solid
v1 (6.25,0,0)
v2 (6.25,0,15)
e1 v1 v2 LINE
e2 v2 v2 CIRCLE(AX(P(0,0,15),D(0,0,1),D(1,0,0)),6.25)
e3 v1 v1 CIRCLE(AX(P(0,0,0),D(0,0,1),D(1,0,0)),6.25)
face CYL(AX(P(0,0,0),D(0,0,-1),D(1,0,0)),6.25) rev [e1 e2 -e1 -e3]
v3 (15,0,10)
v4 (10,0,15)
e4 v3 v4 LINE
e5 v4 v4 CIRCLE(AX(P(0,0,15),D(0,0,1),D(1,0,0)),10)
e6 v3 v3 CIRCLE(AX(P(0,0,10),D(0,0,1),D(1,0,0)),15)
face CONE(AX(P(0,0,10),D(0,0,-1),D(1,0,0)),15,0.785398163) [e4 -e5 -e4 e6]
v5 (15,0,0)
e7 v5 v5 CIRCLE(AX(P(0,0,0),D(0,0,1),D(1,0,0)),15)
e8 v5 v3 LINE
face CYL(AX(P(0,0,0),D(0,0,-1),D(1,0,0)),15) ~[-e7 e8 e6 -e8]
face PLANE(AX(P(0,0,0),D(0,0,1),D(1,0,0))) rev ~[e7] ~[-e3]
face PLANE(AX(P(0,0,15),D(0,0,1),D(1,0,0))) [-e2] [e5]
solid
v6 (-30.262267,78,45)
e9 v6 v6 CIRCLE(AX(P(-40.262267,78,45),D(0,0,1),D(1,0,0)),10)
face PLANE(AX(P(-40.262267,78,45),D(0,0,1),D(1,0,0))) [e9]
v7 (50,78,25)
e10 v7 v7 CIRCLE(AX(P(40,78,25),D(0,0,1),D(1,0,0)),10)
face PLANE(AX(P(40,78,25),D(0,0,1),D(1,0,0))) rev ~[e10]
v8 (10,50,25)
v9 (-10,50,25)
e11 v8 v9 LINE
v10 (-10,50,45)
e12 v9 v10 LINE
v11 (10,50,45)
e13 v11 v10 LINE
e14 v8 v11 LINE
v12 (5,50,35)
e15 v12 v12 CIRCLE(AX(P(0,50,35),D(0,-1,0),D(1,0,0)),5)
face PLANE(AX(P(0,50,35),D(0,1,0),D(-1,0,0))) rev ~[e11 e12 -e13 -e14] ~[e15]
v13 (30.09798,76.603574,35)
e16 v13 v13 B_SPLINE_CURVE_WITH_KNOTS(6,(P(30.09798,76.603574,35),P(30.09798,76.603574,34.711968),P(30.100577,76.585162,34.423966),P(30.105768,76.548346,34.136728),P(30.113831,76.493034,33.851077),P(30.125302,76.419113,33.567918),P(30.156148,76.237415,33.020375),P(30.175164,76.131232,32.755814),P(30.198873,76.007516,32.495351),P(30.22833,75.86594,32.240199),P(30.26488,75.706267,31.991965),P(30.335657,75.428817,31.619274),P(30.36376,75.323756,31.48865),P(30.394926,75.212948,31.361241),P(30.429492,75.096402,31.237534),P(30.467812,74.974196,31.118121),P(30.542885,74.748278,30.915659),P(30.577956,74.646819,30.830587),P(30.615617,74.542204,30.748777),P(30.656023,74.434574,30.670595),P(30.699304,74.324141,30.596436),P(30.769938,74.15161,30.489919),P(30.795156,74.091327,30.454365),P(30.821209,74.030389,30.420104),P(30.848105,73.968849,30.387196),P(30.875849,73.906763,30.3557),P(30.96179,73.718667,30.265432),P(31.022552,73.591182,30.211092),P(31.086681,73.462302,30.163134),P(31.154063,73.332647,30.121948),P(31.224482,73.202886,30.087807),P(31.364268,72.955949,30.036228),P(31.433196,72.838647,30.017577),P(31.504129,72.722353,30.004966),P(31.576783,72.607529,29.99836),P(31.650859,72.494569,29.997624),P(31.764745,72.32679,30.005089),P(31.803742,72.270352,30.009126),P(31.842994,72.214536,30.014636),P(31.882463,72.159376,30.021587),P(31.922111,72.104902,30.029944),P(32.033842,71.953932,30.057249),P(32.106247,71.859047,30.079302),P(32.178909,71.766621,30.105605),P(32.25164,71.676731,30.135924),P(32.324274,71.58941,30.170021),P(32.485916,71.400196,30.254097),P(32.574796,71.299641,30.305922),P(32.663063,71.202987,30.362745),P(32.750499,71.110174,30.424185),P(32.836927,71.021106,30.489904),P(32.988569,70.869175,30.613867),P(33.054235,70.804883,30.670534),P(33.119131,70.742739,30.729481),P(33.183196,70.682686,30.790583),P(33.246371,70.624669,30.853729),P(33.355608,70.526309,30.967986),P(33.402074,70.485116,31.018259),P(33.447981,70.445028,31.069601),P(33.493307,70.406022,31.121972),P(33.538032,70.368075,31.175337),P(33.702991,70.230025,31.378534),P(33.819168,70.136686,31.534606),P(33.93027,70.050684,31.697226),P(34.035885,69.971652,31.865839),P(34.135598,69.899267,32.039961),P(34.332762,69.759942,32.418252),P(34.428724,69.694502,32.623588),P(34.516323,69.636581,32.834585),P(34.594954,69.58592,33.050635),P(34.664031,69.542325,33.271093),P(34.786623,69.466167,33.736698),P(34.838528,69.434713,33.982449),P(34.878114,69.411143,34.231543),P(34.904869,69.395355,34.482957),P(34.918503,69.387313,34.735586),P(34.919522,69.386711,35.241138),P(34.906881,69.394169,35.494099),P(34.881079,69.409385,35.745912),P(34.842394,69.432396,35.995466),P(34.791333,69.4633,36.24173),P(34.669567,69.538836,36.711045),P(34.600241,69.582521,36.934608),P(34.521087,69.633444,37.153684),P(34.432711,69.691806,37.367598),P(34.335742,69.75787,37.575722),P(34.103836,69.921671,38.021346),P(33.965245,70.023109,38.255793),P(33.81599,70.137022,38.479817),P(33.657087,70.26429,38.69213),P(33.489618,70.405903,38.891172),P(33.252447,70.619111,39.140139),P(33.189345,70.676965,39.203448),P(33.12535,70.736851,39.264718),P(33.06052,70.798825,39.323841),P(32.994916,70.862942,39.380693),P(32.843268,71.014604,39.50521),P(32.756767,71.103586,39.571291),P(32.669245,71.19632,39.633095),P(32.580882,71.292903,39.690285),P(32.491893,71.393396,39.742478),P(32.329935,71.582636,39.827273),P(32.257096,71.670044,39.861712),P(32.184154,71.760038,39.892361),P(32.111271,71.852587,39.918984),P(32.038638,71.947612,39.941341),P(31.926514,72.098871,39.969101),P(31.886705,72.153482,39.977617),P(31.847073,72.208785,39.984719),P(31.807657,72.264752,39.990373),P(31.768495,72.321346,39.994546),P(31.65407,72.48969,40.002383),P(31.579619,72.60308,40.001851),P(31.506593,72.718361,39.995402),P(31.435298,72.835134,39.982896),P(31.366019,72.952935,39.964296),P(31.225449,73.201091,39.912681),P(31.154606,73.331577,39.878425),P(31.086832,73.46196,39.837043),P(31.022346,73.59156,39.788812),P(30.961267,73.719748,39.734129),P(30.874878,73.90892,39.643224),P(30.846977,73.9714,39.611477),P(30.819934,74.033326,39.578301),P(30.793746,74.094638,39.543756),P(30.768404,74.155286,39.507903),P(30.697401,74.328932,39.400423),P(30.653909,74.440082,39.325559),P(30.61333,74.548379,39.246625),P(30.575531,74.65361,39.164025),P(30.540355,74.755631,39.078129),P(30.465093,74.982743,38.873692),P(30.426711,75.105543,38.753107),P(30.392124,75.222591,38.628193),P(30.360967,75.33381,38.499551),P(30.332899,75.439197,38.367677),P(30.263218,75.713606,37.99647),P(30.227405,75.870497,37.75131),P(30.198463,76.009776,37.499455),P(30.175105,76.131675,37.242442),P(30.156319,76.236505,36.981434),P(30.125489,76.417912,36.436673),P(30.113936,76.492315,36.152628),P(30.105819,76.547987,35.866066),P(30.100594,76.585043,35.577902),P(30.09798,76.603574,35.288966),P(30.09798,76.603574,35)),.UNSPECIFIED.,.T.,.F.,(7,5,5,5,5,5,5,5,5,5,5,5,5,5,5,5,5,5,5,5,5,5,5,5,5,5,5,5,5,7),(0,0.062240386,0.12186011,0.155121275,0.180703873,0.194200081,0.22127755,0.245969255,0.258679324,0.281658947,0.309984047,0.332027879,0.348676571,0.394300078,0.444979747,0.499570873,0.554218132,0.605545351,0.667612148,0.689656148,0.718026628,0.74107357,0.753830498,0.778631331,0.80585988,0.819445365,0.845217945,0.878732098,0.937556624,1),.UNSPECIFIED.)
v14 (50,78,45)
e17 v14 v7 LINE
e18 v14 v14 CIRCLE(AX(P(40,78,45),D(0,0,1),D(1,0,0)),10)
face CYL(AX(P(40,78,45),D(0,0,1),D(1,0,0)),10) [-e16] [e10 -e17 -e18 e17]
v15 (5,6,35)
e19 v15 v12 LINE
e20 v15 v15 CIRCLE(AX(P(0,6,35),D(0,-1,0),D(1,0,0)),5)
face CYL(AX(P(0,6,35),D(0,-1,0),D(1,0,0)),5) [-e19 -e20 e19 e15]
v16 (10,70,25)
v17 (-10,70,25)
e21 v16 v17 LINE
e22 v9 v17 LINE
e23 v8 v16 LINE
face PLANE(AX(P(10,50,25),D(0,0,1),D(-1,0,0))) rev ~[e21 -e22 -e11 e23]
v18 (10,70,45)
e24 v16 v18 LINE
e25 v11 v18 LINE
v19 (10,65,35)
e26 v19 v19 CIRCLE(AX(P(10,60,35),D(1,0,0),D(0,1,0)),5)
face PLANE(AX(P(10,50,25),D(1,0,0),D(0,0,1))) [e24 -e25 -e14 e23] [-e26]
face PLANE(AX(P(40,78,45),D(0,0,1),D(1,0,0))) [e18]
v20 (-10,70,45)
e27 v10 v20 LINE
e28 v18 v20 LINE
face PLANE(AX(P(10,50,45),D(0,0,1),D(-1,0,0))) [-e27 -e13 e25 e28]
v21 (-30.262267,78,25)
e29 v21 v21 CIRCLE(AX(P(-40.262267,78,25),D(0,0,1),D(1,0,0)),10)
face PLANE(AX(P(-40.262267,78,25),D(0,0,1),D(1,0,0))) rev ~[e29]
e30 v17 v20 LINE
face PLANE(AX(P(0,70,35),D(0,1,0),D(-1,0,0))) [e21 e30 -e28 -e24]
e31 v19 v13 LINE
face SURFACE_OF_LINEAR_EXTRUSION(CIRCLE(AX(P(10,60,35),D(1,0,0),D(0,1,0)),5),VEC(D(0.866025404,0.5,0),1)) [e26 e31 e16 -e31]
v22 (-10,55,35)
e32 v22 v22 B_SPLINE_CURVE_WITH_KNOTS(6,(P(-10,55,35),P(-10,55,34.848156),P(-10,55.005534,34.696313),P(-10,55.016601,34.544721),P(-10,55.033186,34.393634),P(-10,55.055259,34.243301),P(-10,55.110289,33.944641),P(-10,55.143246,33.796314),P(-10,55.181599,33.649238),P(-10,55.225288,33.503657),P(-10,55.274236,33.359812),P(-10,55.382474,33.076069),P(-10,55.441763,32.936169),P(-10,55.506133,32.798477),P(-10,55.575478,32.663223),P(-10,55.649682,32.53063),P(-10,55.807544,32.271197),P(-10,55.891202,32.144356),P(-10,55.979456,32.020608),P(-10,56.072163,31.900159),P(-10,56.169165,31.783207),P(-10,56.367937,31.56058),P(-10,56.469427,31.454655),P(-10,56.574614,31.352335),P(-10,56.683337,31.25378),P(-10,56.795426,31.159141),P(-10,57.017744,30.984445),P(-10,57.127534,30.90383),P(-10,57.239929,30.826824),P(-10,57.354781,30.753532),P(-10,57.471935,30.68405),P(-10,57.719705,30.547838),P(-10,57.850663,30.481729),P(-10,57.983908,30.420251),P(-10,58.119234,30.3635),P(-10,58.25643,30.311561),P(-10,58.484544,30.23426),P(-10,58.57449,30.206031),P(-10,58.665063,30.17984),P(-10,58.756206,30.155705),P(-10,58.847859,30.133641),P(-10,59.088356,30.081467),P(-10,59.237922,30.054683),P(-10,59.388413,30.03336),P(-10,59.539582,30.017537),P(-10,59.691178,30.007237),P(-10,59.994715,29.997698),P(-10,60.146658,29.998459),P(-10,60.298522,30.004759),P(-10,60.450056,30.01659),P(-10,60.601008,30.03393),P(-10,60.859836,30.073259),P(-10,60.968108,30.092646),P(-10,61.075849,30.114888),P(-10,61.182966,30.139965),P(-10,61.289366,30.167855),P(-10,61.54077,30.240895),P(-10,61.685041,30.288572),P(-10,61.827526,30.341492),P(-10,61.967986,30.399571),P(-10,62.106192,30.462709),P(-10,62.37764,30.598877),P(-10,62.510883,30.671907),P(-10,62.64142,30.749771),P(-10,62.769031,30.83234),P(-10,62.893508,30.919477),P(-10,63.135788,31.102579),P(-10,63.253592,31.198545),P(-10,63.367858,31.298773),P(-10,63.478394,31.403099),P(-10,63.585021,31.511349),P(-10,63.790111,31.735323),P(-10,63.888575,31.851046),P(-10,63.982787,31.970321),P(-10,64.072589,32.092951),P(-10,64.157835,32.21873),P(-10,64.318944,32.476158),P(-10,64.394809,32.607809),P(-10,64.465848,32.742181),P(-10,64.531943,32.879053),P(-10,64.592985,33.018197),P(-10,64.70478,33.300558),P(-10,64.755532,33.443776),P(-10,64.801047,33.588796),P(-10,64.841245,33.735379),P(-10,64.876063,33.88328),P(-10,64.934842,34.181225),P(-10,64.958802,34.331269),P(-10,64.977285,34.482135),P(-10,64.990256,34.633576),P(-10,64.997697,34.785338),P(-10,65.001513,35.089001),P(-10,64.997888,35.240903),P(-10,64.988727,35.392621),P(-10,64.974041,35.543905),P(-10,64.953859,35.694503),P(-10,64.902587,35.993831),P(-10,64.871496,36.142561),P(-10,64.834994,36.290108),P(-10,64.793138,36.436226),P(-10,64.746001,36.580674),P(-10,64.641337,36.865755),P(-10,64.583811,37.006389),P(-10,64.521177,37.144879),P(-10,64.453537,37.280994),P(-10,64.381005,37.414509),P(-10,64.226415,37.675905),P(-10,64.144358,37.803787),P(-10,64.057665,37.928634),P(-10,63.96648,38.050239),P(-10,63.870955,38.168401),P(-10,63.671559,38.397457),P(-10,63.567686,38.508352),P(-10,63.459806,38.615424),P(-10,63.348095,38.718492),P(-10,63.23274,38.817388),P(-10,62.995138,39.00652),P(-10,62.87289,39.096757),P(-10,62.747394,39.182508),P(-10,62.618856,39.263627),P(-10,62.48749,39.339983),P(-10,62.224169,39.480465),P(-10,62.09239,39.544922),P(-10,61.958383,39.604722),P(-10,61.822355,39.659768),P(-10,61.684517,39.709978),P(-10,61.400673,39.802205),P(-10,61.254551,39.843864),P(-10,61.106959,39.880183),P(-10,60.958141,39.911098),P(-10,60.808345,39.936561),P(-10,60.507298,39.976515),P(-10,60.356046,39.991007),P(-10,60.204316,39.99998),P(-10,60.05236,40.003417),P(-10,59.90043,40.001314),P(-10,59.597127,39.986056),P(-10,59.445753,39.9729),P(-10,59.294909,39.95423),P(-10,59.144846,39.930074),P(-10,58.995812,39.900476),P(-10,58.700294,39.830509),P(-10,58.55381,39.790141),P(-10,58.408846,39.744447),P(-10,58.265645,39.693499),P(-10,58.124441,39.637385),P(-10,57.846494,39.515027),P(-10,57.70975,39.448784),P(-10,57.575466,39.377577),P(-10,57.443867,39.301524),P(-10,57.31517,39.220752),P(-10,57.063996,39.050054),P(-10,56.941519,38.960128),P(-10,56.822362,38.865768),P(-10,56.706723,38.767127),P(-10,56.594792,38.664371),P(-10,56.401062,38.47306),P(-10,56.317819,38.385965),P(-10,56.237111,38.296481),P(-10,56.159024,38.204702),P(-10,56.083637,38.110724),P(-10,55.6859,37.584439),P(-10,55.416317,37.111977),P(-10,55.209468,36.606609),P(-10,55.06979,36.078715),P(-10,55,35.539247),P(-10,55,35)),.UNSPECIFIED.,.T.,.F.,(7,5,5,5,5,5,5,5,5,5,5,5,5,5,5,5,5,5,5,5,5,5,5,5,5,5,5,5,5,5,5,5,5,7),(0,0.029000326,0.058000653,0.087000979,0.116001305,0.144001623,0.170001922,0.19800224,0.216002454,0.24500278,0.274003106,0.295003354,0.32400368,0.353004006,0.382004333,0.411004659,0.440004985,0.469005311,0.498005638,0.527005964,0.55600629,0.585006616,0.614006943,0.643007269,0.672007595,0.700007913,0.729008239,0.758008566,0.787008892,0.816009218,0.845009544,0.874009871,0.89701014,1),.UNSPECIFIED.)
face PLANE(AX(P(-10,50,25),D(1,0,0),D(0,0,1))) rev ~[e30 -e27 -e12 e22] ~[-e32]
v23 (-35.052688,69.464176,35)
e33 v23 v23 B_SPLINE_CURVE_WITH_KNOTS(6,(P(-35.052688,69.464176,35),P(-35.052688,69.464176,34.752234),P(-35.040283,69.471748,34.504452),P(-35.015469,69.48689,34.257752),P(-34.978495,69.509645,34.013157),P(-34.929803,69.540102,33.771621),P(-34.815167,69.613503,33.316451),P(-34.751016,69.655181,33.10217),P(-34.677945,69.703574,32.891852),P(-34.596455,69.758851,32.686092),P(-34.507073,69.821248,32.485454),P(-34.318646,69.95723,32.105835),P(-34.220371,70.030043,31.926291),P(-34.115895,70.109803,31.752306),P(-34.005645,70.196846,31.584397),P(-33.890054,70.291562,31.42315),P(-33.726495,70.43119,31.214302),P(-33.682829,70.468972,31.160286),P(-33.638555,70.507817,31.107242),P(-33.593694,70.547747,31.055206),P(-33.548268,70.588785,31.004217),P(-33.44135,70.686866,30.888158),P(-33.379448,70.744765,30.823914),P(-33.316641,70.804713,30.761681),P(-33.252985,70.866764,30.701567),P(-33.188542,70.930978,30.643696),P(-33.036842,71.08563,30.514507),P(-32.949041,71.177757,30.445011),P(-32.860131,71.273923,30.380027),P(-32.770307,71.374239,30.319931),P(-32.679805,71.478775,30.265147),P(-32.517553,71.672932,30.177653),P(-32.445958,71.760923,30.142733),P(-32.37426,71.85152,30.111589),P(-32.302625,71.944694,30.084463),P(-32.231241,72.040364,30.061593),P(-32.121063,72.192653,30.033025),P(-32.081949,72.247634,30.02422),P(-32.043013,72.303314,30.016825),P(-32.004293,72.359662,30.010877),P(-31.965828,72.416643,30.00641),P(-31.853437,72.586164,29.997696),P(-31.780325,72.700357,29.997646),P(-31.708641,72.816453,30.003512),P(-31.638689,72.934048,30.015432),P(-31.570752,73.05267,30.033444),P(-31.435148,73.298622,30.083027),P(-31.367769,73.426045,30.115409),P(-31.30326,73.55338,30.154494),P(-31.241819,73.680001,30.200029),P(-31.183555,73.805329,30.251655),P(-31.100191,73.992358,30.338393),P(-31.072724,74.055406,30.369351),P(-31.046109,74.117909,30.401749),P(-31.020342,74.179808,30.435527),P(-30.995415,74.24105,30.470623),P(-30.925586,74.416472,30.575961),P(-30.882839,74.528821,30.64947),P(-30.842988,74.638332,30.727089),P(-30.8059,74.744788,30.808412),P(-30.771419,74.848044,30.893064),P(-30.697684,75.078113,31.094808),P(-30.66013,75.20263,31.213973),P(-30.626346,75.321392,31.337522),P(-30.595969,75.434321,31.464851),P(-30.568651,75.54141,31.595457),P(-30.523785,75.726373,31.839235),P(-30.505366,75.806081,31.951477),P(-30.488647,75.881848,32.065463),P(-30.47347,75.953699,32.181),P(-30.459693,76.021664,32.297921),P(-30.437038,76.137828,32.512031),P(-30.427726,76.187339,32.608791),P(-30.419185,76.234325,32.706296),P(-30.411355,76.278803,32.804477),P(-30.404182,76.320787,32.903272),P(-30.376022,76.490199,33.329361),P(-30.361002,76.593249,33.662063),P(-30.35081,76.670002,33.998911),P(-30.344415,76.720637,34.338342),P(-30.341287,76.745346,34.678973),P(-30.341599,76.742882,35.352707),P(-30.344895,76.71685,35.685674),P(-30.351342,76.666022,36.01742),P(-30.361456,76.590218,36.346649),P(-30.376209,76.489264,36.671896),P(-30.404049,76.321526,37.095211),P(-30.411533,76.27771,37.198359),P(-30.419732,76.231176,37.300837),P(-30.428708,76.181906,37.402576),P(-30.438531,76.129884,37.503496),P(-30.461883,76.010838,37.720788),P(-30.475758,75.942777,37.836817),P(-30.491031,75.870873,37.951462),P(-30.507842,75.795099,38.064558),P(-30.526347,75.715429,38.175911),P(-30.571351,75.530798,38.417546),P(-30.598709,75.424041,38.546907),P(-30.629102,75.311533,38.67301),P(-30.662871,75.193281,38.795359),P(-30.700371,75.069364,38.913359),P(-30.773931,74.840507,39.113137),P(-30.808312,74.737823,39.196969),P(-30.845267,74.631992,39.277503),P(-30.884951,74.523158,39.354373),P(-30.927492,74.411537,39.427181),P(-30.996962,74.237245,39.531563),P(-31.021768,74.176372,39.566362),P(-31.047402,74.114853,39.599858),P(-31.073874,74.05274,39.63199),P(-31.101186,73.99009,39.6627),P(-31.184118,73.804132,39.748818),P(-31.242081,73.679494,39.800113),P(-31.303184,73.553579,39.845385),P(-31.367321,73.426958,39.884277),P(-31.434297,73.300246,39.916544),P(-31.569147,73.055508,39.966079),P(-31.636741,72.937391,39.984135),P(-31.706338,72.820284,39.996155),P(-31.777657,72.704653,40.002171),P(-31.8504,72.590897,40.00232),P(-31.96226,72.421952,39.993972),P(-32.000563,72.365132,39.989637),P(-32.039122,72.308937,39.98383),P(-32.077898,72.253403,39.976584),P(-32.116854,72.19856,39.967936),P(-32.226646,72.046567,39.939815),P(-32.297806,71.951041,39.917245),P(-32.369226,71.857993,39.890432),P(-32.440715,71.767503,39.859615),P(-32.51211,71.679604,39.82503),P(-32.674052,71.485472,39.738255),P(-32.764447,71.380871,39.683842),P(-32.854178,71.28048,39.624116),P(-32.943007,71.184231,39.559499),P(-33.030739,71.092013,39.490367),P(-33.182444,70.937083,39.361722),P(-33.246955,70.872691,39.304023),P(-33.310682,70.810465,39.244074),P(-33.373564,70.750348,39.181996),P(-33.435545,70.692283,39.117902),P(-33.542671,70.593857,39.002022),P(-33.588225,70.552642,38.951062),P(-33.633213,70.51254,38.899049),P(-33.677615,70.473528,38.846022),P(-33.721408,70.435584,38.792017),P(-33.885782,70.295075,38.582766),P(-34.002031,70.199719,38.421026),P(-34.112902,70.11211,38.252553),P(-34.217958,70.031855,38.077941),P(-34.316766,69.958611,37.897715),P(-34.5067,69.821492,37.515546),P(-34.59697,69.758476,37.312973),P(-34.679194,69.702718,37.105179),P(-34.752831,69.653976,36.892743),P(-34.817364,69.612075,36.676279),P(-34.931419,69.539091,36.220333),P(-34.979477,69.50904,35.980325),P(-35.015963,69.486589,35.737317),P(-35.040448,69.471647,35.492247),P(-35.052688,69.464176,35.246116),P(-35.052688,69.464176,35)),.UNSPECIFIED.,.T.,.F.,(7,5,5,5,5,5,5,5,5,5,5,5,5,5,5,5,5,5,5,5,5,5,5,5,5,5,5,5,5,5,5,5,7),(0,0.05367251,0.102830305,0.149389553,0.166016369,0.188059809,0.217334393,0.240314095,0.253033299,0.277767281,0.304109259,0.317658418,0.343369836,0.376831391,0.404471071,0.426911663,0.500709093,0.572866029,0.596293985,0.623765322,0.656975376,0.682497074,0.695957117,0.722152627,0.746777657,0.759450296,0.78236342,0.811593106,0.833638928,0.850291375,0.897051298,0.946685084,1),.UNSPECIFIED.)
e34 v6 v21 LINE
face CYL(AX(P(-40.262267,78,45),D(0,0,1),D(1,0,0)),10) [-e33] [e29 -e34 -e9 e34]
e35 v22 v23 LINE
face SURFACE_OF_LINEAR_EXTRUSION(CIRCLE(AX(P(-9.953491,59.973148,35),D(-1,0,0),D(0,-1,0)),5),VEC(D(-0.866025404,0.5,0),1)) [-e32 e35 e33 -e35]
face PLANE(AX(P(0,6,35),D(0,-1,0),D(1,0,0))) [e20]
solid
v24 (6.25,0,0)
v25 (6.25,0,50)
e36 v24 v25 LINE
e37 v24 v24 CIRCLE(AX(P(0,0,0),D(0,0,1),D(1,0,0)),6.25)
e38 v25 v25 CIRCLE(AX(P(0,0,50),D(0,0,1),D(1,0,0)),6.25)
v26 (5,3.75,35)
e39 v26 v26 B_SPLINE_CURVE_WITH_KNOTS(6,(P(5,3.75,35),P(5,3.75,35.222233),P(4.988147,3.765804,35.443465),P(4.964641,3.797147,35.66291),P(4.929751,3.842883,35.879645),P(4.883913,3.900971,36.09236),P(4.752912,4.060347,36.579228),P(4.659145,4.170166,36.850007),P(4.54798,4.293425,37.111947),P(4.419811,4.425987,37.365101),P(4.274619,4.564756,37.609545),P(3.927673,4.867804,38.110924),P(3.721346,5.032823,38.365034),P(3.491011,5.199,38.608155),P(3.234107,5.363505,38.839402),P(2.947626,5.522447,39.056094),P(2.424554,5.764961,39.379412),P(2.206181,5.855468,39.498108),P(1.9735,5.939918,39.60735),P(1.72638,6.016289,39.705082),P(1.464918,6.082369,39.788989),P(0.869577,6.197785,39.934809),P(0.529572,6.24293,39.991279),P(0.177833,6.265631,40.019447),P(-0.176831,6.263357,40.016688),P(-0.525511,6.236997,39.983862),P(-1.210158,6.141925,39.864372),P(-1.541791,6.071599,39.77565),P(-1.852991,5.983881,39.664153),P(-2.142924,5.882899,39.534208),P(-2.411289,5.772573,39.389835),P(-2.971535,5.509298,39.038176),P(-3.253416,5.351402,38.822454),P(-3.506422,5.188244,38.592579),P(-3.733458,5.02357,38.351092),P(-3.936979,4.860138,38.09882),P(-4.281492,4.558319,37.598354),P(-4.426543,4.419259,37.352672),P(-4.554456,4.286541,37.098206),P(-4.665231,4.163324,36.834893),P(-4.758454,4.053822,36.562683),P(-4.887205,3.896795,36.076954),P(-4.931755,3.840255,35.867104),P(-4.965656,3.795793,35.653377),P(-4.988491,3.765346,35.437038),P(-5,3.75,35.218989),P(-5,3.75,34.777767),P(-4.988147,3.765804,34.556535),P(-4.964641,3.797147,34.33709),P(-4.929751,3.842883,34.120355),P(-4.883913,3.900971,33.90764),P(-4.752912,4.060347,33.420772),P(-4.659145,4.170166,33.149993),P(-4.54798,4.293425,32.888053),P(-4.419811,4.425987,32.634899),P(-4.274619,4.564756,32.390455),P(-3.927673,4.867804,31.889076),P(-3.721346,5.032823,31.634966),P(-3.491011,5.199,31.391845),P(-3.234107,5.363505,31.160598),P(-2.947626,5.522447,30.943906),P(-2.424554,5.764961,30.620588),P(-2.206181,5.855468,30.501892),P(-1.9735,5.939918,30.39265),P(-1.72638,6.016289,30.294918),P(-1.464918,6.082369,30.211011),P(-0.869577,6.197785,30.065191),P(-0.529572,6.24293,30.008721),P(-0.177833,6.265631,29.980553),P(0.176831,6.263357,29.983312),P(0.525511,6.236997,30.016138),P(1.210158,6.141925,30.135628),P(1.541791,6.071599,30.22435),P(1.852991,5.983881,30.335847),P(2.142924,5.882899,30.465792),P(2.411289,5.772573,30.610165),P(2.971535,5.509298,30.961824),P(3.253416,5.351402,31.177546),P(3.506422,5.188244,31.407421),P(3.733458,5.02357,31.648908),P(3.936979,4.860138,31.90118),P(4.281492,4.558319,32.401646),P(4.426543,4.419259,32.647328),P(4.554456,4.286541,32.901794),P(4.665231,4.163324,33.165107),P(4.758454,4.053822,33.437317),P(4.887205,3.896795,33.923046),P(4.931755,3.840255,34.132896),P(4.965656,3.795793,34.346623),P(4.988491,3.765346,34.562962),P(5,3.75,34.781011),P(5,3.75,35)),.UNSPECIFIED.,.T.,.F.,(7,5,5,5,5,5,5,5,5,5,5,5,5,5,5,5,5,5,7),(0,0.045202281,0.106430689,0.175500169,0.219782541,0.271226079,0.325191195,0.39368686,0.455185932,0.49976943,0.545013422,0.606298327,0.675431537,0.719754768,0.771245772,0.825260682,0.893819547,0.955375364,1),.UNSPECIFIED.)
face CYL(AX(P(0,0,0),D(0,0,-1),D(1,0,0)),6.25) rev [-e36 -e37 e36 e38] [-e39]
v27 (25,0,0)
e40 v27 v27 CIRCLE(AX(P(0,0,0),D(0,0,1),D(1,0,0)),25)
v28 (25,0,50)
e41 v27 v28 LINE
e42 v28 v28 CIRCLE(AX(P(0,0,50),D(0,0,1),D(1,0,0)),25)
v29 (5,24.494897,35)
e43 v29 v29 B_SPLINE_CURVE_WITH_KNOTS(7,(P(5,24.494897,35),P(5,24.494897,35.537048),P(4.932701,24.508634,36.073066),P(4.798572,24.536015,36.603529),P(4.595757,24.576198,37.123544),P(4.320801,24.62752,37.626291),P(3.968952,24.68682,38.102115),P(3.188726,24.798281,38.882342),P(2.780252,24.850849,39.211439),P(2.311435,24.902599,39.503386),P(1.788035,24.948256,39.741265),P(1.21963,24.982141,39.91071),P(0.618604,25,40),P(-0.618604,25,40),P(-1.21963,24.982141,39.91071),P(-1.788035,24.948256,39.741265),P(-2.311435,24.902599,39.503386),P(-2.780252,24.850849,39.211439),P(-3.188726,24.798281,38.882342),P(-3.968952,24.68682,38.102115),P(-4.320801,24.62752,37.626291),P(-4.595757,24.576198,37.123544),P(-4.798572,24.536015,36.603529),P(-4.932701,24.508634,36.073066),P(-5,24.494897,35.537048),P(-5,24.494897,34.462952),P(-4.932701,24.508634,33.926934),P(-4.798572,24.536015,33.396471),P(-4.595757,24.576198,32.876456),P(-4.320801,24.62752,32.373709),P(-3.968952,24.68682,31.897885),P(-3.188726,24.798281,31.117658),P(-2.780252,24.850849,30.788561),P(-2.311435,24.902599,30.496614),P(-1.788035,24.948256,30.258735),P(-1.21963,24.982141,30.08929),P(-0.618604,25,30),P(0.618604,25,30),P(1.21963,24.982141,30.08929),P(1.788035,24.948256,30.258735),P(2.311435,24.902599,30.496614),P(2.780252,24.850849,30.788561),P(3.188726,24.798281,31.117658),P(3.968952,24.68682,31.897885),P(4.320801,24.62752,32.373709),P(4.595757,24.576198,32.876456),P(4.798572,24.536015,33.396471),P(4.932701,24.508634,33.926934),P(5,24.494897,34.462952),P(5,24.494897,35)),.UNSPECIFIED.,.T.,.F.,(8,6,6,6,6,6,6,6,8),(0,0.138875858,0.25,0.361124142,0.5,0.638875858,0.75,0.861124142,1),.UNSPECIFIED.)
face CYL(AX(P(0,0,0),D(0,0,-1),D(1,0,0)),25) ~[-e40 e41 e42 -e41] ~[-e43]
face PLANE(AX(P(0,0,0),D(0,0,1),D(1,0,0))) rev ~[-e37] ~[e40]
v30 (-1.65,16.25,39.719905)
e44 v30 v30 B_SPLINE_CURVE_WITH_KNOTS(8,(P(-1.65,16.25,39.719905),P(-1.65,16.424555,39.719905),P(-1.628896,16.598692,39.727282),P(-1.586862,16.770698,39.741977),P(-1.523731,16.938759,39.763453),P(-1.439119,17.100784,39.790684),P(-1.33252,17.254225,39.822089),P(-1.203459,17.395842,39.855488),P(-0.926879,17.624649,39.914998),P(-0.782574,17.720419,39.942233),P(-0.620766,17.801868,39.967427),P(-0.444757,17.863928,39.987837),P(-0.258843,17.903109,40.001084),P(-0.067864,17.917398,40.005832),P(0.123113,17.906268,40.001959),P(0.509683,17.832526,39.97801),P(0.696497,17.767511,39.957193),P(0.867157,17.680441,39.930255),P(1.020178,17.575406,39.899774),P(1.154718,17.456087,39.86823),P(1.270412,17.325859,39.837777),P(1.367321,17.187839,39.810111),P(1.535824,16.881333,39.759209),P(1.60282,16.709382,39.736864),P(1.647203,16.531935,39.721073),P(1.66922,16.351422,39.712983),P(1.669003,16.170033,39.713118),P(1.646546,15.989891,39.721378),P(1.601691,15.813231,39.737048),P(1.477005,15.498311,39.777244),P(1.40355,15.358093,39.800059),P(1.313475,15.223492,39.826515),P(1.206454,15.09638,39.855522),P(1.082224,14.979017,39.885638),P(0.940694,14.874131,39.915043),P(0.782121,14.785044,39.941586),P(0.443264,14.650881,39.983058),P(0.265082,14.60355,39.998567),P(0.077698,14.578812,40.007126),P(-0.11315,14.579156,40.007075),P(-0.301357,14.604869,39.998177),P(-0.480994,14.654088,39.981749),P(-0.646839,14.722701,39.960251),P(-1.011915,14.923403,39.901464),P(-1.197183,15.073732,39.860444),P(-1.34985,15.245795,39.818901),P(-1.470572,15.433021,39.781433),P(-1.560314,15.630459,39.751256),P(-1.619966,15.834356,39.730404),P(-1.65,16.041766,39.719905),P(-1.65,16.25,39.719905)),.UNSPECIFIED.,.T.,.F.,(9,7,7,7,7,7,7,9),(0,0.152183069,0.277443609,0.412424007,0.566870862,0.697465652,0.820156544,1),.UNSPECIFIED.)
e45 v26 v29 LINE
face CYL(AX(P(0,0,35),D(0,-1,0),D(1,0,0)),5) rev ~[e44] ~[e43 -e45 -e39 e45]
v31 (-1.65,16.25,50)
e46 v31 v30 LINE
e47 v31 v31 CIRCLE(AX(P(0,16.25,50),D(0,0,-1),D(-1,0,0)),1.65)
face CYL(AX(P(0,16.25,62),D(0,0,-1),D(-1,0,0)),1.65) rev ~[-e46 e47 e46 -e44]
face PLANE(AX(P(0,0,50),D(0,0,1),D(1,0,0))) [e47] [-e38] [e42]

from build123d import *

# Parameters (mm, degrees)
F0_R      = 25
F0_R_2    = 6.25
F1_DEPTH  = 50
F2_R      = 5
F3_DEPTH  = 25
F5_D      = 3.3
F5_DEPTH  = 12
F5_TIP    = 0.9914200214
F7_START  = -6
F6_R      = 5
F7_DEPTH  = 44
F8_W      = 20
F8_H      = 20
F9_DEPTH  = 20
F13_R     = 5
F12_R     = 5
F16_R     = 10
F17_DEPTH = 20
F18_R     = 15
F18_R_2   = 6.25
F19_DEPTH = 15
F20_SIZE  = 5


with BuildPart() as f1:
    # F0 (on Top) → F1 (new body)
    with BuildSketch(Plane.XY):
        Circle(F0_R)
        Circle(F0_R_2, mode=Mode.SUBTRACT)
    extrude(amount=F1_DEPTH)

    # F2 (on Front) → F3 (cut)
    with BuildSketch(Plane.XZ):
        with Locations((0, 35)):
            Circle(F2_R)
    extrude(amount=-F3_DEPTH, mode=Mode.SUBTRACT)

    # F5
    with Locations(Plane.XY.offset(50)):
        with Locations((0, 16.25)):
            Hole(F5_D / 2, depth=F5_DEPTH)
            with Locations((0, 0, -(F5_DEPTH + F5_TIP / 2))):  # 118° drill point
                Cone(0, F5_D / 2, F5_TIP, mode=Mode.SUBTRACT)


with BuildPart() as f7:
    # F6 (on Front) → F7 (new body)
    with BuildSketch(Plane.XZ.offset(F7_START)):
        with Locations((0, 35)):
            Circle(F6_R)
    extrude(amount=-F7_DEPTH)

    # F8 (on face) → F9 (join)
    with BuildSketch(Plane(origin=(0, 50, 0), x_dir=(-1, 0, 0), z_dir=(0, 1, 0))):
        with Locations((0, 35)):
            Rectangle(F8_W, F8_H)
    extrude(amount=F9_DEPTH)

    # F14: sweep along a path in F10
    with BuildLine(Plane.XY.offset(45)) as f14_path:
        Line((10, 60), (40, 77.3205080757))
    # F13 (on face) → F14 (sweep)
    with BuildSketch(Plane.YZ.offset(10)):
        with Locations((60, 35)):
            Circle(F13_R)
    sweep(path=f14_path.line)

    # F15: sweep along a path in F11
    with BuildLine(Plane.XY.offset(45)) as f15_path:
        Line((-9.9534913898, 60), (-40, 77.3473598343))
    # F12 (on face) → F15 (sweep)
    with BuildSketch(Plane(origin=(-10, 0, 0), x_dir=(0, -1, 0), z_dir=(-1, 0, 0))):
        with Locations((-60, 35)):
            Circle(F12_R)
    sweep(path=f15_path.line)

    # F16 (on face) → F17 (join)
    with BuildSketch(Plane.XY.offset(45)):
        with Locations((40, 78)):
            Circle(F16_R)
        with Locations((-40.2622669935, 78)):
            Circle(F16_R)
    extrude(amount=-F17_DEPTH)


with BuildPart() as f19:
    # F18 (on Top) → F19 (new body)
    with BuildSketch(Plane.XY):
        Circle(F18_R)
        Circle(F18_R_2, mode=Mode.SUBTRACT)
    extrude(amount=F19_DEPTH)

    # F20
    f20_edges = [f19.edges().sort_by_distance(p)[0] for p in [
        (-15, 0, 15),
    ]]
    chamfer(f20_edges, length=F20_SIZE)


solid = Compound([f1.part, f7.part, f19.part])
